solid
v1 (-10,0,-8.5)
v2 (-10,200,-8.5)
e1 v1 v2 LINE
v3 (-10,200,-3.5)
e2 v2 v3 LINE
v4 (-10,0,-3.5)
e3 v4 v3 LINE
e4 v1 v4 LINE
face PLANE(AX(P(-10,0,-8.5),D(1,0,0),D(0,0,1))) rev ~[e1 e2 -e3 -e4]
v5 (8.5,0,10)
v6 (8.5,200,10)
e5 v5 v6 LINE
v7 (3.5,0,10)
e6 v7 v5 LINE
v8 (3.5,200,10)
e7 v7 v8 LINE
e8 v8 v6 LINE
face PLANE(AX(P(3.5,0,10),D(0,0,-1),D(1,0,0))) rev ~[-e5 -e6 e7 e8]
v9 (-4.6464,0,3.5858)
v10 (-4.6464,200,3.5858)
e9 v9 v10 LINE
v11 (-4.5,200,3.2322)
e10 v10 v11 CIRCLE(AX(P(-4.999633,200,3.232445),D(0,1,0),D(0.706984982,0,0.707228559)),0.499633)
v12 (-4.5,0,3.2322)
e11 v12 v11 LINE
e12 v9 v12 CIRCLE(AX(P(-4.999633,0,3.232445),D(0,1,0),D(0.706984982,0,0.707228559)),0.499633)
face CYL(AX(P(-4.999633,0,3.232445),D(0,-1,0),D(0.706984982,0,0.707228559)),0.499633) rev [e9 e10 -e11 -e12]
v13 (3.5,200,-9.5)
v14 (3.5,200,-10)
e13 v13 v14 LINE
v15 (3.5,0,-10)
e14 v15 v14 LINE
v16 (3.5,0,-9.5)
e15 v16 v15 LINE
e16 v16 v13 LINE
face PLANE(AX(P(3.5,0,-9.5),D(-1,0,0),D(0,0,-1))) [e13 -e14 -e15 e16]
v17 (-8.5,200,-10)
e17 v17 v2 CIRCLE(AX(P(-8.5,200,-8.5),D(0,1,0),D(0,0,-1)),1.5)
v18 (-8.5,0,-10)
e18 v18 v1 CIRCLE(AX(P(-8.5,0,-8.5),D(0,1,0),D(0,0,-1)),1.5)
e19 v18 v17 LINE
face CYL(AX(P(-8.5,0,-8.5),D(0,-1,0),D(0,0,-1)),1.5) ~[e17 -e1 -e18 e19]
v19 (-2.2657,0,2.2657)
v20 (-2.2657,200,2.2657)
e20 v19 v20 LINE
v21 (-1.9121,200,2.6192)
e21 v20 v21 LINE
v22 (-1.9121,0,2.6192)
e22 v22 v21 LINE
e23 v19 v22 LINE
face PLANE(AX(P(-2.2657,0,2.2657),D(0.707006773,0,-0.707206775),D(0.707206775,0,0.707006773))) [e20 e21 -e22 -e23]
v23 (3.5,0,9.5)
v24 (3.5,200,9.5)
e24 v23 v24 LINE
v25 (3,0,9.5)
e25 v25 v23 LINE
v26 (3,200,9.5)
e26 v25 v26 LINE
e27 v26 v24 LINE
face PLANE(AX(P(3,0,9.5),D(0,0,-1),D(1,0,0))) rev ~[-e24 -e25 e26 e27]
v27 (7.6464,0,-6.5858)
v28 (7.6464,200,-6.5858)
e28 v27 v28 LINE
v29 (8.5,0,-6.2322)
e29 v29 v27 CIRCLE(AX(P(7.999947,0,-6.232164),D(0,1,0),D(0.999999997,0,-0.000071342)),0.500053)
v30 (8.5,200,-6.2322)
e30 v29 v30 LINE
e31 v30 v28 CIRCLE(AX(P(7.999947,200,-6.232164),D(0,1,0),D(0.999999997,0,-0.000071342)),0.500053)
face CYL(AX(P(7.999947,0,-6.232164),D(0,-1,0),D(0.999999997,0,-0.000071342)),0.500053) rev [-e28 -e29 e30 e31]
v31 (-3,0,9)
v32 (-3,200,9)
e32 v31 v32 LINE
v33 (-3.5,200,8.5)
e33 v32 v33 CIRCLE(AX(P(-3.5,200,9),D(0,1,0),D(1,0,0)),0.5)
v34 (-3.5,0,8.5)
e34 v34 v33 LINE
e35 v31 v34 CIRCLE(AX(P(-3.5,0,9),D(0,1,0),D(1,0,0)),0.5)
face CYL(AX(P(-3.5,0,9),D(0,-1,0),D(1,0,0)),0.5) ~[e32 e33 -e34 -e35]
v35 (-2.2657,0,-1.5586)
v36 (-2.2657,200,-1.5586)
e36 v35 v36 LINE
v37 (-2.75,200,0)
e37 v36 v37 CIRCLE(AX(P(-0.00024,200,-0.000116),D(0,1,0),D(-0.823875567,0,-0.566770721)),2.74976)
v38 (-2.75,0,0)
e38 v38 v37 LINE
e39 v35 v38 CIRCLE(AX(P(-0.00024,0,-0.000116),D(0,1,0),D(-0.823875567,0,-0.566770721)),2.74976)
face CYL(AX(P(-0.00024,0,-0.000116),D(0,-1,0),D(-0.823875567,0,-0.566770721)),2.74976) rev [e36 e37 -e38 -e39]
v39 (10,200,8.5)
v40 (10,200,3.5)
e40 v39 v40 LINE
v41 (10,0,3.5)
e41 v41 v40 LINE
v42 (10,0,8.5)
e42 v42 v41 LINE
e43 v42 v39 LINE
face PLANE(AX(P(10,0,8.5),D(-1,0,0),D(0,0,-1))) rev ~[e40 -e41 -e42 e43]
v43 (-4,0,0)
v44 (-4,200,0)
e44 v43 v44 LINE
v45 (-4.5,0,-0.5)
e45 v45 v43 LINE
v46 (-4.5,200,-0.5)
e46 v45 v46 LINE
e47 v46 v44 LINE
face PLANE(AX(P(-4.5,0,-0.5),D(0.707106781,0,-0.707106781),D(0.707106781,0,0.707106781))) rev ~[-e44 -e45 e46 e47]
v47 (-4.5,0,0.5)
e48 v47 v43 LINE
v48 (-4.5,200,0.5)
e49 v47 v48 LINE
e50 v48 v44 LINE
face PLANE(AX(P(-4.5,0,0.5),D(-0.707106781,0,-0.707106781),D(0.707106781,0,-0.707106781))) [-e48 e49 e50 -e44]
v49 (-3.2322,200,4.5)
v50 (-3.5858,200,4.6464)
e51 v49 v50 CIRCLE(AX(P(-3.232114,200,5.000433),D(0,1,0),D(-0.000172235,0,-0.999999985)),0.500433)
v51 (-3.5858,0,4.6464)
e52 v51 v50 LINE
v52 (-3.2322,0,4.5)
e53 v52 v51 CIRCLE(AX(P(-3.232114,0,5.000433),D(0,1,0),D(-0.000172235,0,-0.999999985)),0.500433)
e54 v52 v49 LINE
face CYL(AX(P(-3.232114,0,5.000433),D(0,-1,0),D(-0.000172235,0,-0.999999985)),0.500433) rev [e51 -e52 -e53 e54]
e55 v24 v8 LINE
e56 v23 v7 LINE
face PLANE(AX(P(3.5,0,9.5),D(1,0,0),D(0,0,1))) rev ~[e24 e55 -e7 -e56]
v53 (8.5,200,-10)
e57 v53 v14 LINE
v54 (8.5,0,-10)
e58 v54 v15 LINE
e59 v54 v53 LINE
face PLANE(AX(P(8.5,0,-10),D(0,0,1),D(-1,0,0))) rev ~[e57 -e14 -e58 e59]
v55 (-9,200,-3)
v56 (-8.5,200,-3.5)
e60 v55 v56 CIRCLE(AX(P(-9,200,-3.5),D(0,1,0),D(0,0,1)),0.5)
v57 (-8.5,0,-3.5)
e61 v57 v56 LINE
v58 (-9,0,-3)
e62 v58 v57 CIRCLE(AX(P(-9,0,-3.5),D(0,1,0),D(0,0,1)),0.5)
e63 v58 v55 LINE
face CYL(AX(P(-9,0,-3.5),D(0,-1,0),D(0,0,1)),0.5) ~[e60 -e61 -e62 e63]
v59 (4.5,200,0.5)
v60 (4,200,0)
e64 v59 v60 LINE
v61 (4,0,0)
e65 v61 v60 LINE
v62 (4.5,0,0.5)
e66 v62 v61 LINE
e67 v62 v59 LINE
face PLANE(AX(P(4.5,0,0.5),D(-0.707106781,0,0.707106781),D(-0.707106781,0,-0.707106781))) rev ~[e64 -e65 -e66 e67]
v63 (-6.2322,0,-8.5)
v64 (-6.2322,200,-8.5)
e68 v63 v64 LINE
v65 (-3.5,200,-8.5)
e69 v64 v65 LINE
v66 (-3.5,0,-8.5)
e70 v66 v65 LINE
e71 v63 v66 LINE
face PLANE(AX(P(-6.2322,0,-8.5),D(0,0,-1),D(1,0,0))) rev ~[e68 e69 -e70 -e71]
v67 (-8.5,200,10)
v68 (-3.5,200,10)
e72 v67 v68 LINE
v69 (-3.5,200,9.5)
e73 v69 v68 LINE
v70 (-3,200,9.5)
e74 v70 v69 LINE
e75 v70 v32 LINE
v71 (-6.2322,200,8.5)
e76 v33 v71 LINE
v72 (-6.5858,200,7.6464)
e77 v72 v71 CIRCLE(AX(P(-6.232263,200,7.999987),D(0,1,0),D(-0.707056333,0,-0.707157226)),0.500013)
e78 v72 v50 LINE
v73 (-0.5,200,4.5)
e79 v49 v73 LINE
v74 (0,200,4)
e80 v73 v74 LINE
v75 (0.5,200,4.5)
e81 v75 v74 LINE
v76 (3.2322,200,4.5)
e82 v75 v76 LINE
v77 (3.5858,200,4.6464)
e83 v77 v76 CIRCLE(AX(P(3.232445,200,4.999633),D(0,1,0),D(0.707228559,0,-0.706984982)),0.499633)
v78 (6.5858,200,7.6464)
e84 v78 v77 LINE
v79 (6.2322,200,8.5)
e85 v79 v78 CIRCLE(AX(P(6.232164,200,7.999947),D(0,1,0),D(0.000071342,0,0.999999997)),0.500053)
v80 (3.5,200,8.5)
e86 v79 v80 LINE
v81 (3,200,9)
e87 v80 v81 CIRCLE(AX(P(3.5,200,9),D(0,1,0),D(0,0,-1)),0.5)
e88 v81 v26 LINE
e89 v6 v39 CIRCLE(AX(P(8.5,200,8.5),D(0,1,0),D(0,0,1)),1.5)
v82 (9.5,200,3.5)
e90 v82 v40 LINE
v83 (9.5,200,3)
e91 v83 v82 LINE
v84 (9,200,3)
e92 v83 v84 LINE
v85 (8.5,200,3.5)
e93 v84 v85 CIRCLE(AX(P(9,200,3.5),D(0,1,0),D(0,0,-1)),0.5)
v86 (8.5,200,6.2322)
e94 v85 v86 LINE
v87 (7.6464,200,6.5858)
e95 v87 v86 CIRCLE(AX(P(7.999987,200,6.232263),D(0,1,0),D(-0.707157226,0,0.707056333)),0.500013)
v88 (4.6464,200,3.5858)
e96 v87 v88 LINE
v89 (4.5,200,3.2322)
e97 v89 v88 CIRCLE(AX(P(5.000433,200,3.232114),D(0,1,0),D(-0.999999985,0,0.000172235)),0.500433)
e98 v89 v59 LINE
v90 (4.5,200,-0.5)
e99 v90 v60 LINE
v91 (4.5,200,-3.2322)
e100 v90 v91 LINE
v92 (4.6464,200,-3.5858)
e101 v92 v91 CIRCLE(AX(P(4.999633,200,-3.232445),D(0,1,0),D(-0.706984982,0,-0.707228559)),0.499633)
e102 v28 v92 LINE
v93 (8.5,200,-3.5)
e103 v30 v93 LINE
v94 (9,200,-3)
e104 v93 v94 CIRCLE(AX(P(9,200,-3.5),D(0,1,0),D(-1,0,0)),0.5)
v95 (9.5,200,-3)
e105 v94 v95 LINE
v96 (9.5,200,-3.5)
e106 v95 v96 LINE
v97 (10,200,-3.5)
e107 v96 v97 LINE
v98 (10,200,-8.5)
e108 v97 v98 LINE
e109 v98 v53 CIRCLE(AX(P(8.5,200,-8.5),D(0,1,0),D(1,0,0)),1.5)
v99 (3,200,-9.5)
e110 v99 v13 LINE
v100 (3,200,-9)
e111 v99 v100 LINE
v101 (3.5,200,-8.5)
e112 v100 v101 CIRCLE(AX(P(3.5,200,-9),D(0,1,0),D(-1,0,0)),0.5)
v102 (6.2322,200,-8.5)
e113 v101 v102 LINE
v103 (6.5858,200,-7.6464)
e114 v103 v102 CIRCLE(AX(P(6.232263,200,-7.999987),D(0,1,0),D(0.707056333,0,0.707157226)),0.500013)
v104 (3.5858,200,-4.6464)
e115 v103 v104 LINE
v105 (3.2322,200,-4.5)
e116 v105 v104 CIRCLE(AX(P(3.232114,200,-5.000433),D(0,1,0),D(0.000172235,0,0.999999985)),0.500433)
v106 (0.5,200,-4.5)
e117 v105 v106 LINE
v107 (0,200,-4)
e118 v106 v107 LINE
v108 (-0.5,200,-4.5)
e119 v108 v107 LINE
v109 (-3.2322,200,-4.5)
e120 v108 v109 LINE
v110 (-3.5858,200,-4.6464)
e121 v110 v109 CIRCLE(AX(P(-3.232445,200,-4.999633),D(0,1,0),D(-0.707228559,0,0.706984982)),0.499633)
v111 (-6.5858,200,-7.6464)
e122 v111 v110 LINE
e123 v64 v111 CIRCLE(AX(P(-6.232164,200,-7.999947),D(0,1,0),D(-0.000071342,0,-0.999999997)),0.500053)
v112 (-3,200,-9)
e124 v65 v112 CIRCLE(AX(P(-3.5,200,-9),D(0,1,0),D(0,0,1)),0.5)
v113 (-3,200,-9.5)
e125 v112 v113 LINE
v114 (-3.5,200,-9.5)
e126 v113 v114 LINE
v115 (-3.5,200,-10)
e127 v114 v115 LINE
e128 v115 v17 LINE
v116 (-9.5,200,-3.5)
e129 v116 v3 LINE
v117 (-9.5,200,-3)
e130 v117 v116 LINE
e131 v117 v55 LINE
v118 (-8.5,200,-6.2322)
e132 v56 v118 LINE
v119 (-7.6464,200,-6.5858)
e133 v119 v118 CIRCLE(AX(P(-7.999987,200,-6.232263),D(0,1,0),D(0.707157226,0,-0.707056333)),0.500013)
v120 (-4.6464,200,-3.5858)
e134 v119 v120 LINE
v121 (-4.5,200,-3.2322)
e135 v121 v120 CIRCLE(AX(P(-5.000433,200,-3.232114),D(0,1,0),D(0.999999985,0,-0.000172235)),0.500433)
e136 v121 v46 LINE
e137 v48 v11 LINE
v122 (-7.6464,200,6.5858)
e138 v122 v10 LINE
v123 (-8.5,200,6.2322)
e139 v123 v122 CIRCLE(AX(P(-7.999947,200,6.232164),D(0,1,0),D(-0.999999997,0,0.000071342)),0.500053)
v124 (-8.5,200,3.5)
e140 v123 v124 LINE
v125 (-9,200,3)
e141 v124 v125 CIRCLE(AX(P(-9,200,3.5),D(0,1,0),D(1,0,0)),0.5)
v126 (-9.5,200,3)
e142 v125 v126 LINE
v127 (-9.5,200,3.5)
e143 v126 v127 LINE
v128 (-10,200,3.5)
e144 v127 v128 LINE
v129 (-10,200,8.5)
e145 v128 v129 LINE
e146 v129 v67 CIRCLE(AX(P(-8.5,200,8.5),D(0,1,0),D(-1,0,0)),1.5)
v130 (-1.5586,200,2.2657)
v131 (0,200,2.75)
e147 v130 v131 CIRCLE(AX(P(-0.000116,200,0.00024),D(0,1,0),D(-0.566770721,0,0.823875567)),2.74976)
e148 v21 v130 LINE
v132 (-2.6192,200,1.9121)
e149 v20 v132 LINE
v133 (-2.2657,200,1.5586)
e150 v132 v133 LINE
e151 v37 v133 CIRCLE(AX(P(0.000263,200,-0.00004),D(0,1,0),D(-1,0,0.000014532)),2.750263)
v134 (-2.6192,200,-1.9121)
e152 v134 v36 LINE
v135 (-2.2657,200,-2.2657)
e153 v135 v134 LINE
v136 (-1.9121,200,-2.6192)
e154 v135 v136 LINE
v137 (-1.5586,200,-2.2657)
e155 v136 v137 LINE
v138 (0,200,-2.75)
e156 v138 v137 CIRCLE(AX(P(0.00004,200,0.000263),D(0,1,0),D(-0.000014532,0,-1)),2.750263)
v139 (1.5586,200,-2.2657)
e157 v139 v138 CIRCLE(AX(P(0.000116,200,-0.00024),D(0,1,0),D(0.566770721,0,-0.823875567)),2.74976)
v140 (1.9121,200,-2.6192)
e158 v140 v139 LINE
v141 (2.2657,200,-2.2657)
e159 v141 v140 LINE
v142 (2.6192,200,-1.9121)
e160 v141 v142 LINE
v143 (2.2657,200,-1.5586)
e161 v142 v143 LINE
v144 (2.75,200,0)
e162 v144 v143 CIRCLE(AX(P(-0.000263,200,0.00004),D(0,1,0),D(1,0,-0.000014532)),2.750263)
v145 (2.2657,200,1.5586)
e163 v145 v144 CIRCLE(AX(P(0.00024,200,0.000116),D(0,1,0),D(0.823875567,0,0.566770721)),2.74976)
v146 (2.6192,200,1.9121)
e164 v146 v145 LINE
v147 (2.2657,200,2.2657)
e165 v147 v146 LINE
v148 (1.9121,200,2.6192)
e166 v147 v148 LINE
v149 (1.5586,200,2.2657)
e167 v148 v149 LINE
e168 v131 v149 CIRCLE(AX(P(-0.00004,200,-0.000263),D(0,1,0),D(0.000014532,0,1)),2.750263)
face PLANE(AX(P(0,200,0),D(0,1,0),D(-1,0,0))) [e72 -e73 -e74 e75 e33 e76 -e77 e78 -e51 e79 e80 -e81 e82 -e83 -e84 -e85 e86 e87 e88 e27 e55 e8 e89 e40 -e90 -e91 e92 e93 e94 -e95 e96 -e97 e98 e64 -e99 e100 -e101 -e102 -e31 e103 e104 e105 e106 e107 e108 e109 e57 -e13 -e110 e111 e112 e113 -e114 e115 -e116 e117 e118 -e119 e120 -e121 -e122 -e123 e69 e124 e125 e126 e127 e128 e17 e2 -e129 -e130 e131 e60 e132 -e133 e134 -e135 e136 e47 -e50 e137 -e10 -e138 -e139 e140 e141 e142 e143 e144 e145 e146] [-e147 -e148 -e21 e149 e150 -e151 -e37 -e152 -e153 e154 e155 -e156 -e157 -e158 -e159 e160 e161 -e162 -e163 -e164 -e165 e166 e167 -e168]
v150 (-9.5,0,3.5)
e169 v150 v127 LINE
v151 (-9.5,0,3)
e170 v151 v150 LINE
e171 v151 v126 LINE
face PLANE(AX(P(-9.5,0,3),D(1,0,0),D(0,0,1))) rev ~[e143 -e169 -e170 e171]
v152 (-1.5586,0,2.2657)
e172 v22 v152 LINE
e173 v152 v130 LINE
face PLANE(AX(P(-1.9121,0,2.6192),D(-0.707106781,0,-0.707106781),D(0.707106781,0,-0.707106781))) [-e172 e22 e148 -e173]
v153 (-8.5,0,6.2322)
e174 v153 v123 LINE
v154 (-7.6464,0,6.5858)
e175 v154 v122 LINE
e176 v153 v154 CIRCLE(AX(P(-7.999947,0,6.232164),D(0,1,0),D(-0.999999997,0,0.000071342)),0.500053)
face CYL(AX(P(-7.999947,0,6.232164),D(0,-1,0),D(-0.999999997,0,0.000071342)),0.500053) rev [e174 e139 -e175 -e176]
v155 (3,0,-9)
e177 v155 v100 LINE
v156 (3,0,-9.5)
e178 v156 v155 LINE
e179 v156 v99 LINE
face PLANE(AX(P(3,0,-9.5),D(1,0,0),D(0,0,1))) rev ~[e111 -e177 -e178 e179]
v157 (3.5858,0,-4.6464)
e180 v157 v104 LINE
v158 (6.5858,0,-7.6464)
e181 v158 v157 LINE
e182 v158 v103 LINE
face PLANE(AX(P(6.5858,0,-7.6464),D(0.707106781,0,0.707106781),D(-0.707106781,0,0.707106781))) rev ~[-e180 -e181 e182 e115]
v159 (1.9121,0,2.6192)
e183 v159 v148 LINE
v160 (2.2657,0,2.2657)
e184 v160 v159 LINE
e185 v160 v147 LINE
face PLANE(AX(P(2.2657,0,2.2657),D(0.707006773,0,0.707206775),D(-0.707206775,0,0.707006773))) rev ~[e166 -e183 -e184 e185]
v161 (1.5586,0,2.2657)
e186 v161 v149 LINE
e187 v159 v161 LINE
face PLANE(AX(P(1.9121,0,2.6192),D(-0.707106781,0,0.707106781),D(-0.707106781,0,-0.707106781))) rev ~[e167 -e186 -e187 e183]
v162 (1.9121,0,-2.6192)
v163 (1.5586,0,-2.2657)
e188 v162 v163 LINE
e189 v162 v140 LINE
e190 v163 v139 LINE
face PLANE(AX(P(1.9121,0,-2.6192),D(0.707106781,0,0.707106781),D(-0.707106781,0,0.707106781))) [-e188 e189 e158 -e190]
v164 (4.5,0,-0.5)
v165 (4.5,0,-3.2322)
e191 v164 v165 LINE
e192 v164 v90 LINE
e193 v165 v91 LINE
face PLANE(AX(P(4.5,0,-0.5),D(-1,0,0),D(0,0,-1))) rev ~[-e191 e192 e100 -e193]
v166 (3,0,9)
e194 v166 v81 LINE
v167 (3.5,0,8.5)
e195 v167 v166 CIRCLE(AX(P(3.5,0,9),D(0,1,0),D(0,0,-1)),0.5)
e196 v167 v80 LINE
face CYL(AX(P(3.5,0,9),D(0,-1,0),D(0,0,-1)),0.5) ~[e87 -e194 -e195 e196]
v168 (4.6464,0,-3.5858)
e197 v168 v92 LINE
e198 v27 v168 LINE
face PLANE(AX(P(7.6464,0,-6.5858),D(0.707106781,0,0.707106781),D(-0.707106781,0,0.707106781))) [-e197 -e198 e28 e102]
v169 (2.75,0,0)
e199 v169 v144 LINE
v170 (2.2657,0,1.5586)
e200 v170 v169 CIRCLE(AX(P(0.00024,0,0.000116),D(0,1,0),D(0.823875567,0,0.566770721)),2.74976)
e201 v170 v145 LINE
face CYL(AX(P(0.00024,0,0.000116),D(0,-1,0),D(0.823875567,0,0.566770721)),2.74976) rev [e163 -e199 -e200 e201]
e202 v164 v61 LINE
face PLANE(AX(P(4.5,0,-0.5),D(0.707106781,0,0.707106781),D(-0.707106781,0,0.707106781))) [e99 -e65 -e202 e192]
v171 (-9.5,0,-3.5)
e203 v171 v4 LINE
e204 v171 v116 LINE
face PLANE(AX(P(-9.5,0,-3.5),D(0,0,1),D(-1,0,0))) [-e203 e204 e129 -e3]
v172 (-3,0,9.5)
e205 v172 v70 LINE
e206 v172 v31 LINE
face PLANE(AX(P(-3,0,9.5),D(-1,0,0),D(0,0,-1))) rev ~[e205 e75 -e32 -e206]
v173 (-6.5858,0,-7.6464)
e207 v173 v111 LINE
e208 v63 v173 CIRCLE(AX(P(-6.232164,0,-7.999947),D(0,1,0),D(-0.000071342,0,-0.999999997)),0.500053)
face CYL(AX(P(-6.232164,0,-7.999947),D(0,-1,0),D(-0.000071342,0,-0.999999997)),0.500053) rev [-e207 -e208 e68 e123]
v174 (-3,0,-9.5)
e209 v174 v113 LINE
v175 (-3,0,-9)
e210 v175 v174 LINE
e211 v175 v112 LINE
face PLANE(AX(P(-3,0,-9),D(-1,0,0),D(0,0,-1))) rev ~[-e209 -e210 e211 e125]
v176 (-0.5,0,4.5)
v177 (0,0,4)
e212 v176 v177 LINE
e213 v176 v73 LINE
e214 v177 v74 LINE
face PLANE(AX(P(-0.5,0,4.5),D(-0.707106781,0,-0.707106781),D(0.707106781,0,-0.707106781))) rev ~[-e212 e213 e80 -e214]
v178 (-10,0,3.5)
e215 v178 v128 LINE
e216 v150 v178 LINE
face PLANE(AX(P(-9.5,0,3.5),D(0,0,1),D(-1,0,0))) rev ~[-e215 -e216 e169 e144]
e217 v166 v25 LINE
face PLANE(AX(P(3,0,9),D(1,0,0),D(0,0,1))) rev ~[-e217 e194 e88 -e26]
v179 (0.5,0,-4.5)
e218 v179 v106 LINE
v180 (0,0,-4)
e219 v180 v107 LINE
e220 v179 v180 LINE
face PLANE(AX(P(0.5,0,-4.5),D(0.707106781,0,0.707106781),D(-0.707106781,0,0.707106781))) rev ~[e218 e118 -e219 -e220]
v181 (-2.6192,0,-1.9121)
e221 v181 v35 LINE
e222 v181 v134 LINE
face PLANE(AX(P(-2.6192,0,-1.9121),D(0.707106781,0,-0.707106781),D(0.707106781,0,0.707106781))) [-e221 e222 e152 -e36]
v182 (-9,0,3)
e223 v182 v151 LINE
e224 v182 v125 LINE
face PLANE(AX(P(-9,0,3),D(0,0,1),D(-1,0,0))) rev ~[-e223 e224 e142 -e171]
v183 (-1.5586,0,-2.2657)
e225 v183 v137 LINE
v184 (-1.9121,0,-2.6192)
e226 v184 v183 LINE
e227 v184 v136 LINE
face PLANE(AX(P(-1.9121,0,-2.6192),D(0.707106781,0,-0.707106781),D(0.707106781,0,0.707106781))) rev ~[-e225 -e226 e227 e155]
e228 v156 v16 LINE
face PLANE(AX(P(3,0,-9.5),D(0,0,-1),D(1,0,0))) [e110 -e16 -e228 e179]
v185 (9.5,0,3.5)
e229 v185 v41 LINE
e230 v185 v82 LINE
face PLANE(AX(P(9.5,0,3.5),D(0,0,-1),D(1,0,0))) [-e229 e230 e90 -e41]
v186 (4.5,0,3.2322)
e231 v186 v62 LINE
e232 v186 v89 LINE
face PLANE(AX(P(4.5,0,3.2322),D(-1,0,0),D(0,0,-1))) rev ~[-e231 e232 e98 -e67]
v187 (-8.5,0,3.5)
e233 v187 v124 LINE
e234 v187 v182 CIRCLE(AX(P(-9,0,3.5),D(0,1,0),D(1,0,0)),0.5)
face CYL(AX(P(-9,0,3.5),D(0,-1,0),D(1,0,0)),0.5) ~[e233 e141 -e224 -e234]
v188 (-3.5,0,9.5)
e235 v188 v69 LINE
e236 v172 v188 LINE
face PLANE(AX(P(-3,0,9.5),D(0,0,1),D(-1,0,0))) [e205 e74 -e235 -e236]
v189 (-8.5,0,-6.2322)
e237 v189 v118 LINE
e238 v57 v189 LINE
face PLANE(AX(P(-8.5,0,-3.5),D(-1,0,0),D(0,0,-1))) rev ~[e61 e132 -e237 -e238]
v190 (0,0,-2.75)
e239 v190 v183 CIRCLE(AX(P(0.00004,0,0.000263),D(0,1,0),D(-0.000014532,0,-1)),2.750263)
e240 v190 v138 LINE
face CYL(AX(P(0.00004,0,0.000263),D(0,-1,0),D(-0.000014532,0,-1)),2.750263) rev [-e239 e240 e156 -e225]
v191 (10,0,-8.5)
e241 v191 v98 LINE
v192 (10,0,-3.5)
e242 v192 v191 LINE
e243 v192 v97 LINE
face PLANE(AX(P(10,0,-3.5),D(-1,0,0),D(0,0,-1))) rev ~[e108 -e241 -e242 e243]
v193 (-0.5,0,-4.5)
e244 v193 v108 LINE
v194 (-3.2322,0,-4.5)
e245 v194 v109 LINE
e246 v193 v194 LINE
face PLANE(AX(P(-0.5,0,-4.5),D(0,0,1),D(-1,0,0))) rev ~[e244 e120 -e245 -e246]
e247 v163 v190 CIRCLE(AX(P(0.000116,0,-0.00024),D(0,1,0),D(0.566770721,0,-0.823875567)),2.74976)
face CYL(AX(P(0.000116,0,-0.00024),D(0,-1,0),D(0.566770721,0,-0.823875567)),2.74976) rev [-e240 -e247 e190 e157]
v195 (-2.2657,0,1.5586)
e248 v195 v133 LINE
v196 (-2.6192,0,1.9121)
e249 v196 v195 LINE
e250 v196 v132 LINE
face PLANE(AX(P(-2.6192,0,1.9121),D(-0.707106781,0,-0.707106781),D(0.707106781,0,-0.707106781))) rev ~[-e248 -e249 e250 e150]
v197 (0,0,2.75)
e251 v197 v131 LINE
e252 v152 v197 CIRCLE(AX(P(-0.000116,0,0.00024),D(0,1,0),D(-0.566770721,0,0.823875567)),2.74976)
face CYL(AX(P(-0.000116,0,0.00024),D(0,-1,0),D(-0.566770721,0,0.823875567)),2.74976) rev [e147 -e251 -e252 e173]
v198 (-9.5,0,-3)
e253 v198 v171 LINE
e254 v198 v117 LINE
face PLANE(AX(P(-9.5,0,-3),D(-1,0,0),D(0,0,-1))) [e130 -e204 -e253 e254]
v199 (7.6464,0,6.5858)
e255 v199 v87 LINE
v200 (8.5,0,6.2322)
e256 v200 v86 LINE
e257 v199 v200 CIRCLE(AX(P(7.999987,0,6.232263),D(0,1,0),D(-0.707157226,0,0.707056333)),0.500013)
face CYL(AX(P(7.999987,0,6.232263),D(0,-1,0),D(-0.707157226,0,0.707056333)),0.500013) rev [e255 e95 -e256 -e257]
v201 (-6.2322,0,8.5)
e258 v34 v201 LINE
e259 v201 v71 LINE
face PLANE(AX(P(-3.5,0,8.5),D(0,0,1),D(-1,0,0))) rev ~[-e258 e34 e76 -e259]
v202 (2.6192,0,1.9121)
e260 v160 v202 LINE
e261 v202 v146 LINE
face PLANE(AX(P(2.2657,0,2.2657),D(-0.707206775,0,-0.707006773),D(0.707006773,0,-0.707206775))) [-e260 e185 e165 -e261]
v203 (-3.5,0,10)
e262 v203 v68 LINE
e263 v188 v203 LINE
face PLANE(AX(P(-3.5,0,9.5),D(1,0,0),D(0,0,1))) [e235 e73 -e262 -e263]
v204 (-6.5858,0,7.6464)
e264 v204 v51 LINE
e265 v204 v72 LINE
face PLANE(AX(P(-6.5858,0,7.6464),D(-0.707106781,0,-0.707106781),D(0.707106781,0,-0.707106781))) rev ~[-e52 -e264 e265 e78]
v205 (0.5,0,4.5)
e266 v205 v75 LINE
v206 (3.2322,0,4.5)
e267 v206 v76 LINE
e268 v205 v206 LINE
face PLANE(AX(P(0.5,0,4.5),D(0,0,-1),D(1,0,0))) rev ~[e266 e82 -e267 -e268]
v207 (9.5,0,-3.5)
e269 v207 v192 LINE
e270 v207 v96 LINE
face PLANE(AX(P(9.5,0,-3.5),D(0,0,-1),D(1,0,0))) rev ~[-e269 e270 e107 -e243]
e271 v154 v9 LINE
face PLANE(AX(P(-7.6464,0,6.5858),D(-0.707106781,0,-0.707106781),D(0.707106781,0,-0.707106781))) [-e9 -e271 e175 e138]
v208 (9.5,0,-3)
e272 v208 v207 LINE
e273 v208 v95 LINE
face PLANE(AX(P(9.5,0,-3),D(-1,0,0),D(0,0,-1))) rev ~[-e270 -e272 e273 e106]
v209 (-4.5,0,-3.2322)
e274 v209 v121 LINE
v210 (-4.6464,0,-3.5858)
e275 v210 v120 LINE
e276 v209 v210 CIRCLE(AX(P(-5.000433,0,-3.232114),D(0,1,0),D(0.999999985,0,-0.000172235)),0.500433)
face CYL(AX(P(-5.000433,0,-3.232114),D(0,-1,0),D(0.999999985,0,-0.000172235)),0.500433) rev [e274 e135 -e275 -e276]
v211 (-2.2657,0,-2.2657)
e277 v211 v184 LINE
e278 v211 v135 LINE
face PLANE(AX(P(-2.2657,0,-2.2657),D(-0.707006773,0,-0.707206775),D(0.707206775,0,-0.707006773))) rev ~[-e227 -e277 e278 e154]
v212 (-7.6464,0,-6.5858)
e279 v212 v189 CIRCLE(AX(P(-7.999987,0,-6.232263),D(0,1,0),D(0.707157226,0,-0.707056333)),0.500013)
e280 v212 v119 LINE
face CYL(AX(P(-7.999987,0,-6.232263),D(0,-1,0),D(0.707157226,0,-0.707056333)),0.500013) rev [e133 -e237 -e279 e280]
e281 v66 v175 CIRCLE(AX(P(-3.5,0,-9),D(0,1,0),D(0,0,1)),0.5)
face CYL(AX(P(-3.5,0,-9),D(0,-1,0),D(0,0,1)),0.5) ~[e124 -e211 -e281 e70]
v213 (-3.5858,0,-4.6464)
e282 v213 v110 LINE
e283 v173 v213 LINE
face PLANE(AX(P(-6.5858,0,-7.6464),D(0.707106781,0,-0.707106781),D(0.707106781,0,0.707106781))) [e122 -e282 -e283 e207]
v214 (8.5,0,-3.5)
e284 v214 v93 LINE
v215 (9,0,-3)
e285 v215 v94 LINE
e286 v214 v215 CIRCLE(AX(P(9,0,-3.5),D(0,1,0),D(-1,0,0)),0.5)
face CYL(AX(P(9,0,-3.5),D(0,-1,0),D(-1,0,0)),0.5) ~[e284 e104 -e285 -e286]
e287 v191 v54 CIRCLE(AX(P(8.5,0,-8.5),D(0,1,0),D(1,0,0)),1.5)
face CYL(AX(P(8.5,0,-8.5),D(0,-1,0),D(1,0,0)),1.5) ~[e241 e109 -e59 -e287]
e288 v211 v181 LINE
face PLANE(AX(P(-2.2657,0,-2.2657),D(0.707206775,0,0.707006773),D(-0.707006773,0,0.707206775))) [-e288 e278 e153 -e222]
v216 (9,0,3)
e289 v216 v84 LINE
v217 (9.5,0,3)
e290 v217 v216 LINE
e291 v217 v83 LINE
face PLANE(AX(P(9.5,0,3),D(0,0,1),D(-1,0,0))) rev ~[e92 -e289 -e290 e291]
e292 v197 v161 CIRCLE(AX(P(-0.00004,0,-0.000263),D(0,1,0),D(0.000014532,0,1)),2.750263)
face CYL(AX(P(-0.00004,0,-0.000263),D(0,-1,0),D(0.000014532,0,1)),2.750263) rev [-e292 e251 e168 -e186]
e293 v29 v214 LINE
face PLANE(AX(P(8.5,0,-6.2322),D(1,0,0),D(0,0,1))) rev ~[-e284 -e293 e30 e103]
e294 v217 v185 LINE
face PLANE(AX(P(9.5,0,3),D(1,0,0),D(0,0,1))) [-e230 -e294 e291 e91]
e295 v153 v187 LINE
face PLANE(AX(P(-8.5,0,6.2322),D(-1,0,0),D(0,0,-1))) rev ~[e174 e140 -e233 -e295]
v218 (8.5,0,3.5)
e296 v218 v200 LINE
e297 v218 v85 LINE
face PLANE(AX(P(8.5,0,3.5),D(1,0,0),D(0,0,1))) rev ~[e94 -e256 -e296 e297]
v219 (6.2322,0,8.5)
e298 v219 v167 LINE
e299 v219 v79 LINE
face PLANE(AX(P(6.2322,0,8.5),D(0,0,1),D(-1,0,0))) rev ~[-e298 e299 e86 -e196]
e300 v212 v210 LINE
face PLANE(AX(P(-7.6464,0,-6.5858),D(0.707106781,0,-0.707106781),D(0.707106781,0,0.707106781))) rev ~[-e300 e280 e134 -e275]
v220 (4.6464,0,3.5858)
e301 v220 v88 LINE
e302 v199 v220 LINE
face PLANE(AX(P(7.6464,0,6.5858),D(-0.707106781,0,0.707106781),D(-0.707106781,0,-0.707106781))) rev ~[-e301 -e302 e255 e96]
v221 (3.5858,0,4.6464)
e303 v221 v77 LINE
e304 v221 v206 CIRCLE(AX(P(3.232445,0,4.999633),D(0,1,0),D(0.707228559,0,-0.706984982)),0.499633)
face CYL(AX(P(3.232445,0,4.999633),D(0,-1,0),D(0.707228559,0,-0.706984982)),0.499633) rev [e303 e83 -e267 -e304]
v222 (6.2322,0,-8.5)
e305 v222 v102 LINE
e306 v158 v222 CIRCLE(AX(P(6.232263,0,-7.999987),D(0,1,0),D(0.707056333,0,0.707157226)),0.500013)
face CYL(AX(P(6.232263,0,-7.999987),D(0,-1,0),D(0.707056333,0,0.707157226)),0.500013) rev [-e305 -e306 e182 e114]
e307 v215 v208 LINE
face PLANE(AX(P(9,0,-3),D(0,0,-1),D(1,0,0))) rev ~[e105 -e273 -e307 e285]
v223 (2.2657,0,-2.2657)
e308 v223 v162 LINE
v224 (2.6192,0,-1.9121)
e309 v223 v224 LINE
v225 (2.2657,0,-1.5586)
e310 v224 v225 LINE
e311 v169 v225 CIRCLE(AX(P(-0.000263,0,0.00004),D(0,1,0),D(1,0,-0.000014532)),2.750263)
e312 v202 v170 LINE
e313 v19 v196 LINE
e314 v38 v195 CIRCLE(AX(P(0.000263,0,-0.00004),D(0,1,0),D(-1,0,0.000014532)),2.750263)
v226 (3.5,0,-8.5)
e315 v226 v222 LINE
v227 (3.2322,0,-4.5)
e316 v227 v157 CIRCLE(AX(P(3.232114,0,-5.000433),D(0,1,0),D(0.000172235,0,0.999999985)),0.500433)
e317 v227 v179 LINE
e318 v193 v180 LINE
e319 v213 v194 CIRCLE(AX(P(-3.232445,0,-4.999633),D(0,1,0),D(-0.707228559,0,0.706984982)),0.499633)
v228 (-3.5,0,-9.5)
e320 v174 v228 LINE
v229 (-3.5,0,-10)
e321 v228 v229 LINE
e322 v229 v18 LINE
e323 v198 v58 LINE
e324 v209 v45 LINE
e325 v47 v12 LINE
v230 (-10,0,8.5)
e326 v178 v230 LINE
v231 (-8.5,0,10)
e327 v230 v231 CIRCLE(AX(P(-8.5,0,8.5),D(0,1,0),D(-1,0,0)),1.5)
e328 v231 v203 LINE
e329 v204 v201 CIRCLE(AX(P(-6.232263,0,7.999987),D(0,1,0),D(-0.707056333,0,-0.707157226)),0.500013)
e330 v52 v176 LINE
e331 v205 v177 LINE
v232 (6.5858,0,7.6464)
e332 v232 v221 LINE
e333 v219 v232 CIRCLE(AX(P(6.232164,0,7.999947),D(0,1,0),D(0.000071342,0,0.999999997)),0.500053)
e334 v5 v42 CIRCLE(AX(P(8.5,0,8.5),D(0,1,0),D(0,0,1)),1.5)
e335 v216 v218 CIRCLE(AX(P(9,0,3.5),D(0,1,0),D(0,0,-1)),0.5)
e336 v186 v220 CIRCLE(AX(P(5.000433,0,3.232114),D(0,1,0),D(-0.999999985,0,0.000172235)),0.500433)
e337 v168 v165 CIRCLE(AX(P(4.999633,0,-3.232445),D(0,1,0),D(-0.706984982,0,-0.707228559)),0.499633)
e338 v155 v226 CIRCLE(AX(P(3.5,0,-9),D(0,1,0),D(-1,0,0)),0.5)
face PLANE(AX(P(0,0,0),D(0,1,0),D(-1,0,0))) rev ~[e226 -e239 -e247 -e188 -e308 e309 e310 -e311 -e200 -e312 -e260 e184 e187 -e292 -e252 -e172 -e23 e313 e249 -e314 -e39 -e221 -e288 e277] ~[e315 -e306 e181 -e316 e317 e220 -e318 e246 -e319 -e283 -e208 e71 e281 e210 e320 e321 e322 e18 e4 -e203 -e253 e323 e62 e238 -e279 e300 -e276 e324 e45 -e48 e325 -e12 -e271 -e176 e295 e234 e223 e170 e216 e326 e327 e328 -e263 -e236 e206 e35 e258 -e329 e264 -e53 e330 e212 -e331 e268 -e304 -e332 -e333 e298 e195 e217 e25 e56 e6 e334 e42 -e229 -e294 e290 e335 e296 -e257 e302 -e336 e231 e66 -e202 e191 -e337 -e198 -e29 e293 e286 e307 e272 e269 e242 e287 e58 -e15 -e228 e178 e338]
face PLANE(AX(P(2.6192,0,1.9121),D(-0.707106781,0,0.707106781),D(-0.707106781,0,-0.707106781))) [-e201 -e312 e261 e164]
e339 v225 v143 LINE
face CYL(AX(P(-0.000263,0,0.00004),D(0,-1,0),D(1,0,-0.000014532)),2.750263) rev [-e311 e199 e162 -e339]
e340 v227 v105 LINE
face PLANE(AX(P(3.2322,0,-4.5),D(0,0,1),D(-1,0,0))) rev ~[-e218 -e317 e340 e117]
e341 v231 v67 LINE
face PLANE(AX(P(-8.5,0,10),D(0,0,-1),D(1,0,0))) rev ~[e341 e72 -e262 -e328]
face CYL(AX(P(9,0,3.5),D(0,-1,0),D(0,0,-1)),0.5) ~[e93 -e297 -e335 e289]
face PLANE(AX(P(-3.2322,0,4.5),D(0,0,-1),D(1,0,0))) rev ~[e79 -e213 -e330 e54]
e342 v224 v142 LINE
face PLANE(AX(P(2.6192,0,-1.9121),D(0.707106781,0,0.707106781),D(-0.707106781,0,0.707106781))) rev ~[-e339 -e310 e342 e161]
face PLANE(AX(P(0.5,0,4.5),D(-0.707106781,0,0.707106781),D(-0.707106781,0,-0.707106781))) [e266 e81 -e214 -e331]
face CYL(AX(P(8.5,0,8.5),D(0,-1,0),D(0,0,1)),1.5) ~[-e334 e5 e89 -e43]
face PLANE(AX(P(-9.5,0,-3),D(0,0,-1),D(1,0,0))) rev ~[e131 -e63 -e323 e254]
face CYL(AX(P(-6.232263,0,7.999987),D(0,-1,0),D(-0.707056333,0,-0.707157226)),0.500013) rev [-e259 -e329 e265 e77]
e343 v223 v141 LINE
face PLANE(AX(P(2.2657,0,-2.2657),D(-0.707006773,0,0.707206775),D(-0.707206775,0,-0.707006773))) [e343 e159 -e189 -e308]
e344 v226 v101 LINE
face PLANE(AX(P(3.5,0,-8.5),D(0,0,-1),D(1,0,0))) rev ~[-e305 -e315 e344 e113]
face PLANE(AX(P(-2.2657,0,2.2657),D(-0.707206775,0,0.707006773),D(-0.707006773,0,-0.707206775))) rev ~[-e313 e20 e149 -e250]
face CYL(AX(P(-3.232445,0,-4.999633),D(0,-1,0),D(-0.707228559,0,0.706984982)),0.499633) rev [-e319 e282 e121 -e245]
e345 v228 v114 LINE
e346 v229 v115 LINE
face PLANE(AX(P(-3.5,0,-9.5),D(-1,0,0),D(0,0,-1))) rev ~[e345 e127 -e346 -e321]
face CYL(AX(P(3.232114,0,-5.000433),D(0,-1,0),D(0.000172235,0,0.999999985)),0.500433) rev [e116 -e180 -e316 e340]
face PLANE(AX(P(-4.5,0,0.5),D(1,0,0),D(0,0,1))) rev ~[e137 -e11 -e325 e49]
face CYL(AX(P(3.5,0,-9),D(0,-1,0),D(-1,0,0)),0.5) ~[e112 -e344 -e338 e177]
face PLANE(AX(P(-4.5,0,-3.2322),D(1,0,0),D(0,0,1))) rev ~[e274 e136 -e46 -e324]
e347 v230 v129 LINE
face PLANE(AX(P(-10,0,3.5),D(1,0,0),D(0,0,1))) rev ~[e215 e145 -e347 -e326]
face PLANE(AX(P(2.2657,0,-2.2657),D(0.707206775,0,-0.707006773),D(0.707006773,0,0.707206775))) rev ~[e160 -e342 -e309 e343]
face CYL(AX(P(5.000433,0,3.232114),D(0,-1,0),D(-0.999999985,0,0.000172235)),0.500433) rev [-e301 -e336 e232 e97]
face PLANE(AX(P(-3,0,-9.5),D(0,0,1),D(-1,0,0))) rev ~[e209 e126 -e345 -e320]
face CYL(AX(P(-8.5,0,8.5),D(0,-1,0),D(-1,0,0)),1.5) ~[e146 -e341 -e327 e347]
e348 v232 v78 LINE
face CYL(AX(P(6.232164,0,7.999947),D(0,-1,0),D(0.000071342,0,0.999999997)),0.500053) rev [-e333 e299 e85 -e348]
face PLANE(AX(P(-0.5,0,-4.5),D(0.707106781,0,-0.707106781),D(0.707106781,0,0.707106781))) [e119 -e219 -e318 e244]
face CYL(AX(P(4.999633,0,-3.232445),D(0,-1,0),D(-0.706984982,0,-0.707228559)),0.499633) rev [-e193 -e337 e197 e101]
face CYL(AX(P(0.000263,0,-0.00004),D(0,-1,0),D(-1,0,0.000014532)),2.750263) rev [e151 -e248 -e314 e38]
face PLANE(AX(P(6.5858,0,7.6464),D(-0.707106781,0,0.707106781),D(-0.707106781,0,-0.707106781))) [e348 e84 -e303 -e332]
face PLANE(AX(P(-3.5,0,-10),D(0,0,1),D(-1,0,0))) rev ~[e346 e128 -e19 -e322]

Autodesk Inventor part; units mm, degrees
ref_plane "YZ Plane" through (0, 0, 0) normal (1, 0, 0) x (0, 1, 0)
ref_plane "Start Plane" through (0, 0, 0) normal (0, 1, 0) x (-1, 0, 0)
ref_plane "End Plane" through (0, 200, 0) normal (0, 1, 0) x (-1, 0, 0)
sketch "Sketch" plane through (0, 0, 0) normal (0, 1, 0) x (-1, 0, 0)
  line L0 (8.5, 10) -> (3.5, 10)
  line L1 (4.5, 0.5) -> (4.5, 3.2322)
  line L2 (3.2322, 4.5) -> (0.5, 4.5)
  line L3 (3, 9.5) -> (3, 9)
  line L4 (3.5, 8.5) -> (6.2322, 8.5)
  line L5 (8.5, 6.2322) -> (8.5, 3.5)
  line L6 (9, 3) -> (9.5, 3)
  line L7 (6.5858, 7.6464) -> (3.5858, 4.6464)
  line L8 (7.6464, 6.5858) -> (4.6464, 3.5858)
  line L9 (10, 10) -> (0, 0) construction
  line L10 (0.5, 4.5) -> (0, 4)
  line L11 (3, 9.5) -> (3.5, 9.5)
  line L12 (3.5, 9.5) -> (3.5, 10)
  line L13 (9.5, 3) -> (9.5, 3.5)
  line L14 (9.5, 3.5) -> (10, 3.5)
  line L15 (10, 3.5) -> (10, 10)
  line L16 (0, 0) -> (10, 0) construction
  line L17 (10, 0) -> (10, 8.5) construction
  line L18 (0, 0) -> (0, 10) construction
  line L19 (0, 10) -> (10, 10) construction
  line L20 (4.5, 0.5) -> (4, 0)
  arc A0 (10, 8.5) -> (8.5, 10) centre (8.5, 8.5) ccw
  arc A1 (3, 9) -> (3.5, 8.5) centre (3.5, 9) ccw
  arc A2 (6.5858, 7.6464) -> (6.2322, 8.5) centre (6.2322, 8) ccw
  arc A3 (8.5, 6.2322) -> (7.6464, 6.5858) centre (8, 6.2322) ccw
  arc A4 (8.5, 3.5) -> (9, 3) centre (9, 3.5) ccw
  arc A5 (4.6464, 3.5858) -> (4.5, 3.2322) centre (5, 3.2322) ccw
  arc A6 (3.2322, 4.5) -> (3.5858, 4.6464) centre (3.2322, 5) ccw
  line L21 (2.2657, 2.2657) -> (1.9121, 2.6192)
  line L22 (2.2657, 2.2657) -> (2.6192, 1.9121)
  line L23 (1.9121, 2.6192) -> (1.5586, 2.2657)
  line L24 (2.6192, 1.9121) -> (2.2657, 1.5586)
  arc A7 (2.75, 0) -> (2.2657, 1.5586) centre (0, 0) ccw
  arc A8 (1.5586, 2.2657) -> (0, 2.75) centre (0, 0) ccw
  line L25 (0, 0) -> (10, 0) construction
  line L26 (10, -10) -> (0, 0) construction
  line L27 (0, 0) -> (0, -10) construction
  line L28 (0, -10) -> (8.5, -10) construction
  line L29 (0.5, -4.5) -> (3.2322, -4.5)
  line L30 (0.5, -4.5) -> (0, -4)
  line L31 (1.9121, -2.6192) -> (1.5586, -2.2657)
  arc A9 (0, -2.75) -> (1.5586, -2.2657) centre (0, 0) ccw
  arc A10 (7.6464, -6.5858) -> (8.5, -6.2322) centre (8, -6.2322) ccw
  line L32 (8.5, -3.5) -> (8.5, -6.2322)
  line L33 (10, -8.5) -> (10, -3.5)
  line L34 (3.5, -10) -> (10, -10)
  line L35 (6.5858, -7.6464) -> (3.5858, -4.6464)
  line L36 (7.6464, -6.5858) -> (4.6464, -3.5858)
  line L37 (10, 0) -> (10, -10) construction
  line L38 (4.5, -3.2322) -> (4.5, -0.5)
  arc A11 (8.5, -10) -> (10, -8.5) centre (8.5, -8.5) ccw
  line L39 (6.2322, -8.5) -> (3.5, -8.5)
  arc A12 (3.5, -8.5) -> (3, -9) centre (3.5, -9) ccw
  arc A13 (6.2322, -8.5) -> (6.5858, -7.6464) centre (6.2322, -8) ccw
  line L40 (3, -9.5) -> (3.5, -9.5)
  line L41 (3.5, -9.5) -> (3.5, -10)
  line L42 (9.5, -3) -> (9, -3)
  line L43 (4.5, -0.5) -> (4, 0)
  line L44 (9.5, -3) -> (9.5, -3.5)
  line L45 (9.5, -3.5) -> (10, -3.5)
  arc A14 (4.5, -3.2322) -> (4.6464, -3.5858) centre (5, -3.2322) ccw
  arc A15 (9, -3) -> (8.5, -3.5) centre (9, -3.5) ccw
  arc A16 (3.5858, -4.6464) -> (3.2322, -4.5) centre (3.2322, -5) ccw
  line L46 (3, -9) -> (3, -9.5)
  line L47 (2.2657, -2.2657) -> (2.6192, -1.9121)
  line L48 (2.2657, -2.2657) -> (1.9121, -2.6192)
  line L49 (2.6192, -1.9121) -> (2.2657, -1.5586)
  arc A17 (2.2657, -1.5586) -> (2.75, 0) centre (0, 0) ccw
  line L50 (0, 0) -> (0, -10) construction
  line L51 (-10, -10) -> (0, 0) construction
  line L52 (0, 0) -> (-10, 0) construction
  line L53 (-10, 0) -> (-10, -8.5) construction
  line L54 (-4.5, -0.5) -> (-4.5, -3.2322)
  line L55 (-4.5, -0.5) -> (-4, 0)
  line L56 (-2.6192, -1.9121) -> (-2.2657, -1.5586)
  arc A18 (-2.75, 0) -> (-2.2657, -1.5586) centre (0, 0) ccw
  arc A19 (-6.5858, -7.6464) -> (-6.2322, -8.5) centre (-6.2322, -8) ccw
  line L57 (-3.5, -8.5) -> (-6.2322, -8.5)
  line L58 (-8.5, -10) -> (-3.5, -10)
  line L59 (-10, -3.5) -> (-10, -10)
  line L60 (-7.6464, -6.5858) -> (-4.6464, -3.5858)
  line L61 (-6.5858, -7.6464) -> (-3.5858, -4.6464)
  line L62 (0, -10) -> (-10, -10) construction
  line L63 (-3.2322, -4.5) -> (-0.5, -4.5)
  arc A20 (-10, -8.5) -> (-8.5, -10) centre (-8.5, -8.5) ccw
  line L64 (-8.5, -6.2322) -> (-8.5, -3.5)
  arc A21 (-8.5, -3.5) -> (-9, -3) centre (-9, -3.5) ccw
  arc A22 (-8.5, -6.2322) -> (-7.6464, -6.5858) centre (-8, -6.2322) ccw
  line L65 (-9.5, -3) -> (-9.5, -3.5)
  line L66 (-9.5, -3.5) -> (-10, -3.5)
  line L67 (-3, -9.5) -> (-3, -9)
  line L68 (-0.5, -4.5) -> (0, -4)
  line L69 (-3, -9.5) -> (-3.5, -9.5)
  line L70 (-3.5, -9.5) -> (-3.5, -10)
  arc A23 (-3.2322, -4.5) -> (-3.5858, -4.6464) centre (-3.2322, -5) ccw
  arc A24 (-3, -9) -> (-3.5, -8.5) centre (-3.5, -9) ccw
  arc A25 (-4.6464, -3.5858) -> (-4.5, -3.2322) centre (-5, -3.2322) ccw
  line L71 (-9, -3) -> (-9.5, -3)
  line L72 (-2.2657, -2.2657) -> (-1.9121, -2.6192)
  line L73 (-2.2657, -2.2657) -> (-2.6192, -1.9121)
  line L74 (-1.9121, -2.6192) -> (-1.5586, -2.2657)
  arc A26 (-1.5586, -2.2657) -> (0, -2.75) centre (0, 0) ccw
  line L75 (0, 0) -> (-10, 0) construction
  line L76 (-10, 10) -> (0, 0) construction
  line L77 (0, 0) -> (0, 10) construction
  line L78 (0, 10) -> (-8.5, 10) construction
  line L79 (-0.5, 4.5) -> (-3.2322, 4.5)
  line L80 (-0.5, 4.5) -> (0, 4)
  line L81 (-1.9121, 2.6192) -> (-1.5586, 2.2657)
  arc A27 (0, 2.75) -> (-1.5586, 2.2657) centre (0, 0) ccw
  arc A28 (-7.6464, 6.5858) -> (-8.5, 6.2322) centre (-8, 6.2322) ccw
  line L82 (-8.5, 3.5) -> (-8.5, 6.2322)
  line L83 (-10, 8.5) -> (-10, 3.5)
  line L84 (-3.5, 10) -> (-10, 10)
  line L85 (-6.5858, 7.6464) -> (-3.5858, 4.6464)
  line L86 (-7.6464, 6.5858) -> (-4.6464, 3.5858)
  line L87 (-10, 0) -> (-10, 10) construction
  line L88 (-4.5, 3.2322) -> (-4.5, 0.5)
  arc A29 (-8.5, 10) -> (-10, 8.5) centre (-8.5, 8.5) ccw
  line L89 (-6.2322, 8.5) -> (-3.5, 8.5)
  arc A30 (-3.5, 8.5) -> (-3, 9) centre (-3.5, 9) ccw
  arc A31 (-6.2322, 8.5) -> (-6.5858, 7.6464) centre (-6.2322, 8) ccw
  line L90 (-3, 9.5) -> (-3.5, 9.5)
  line L91 (-3.5, 9.5) -> (-3.5, 10)
  line L92 (-9.5, 3) -> (-9, 3)
  line L93 (-4.5, 0.5) -> (-4, 0)
  line L94 (-9.5, 3) -> (-9.5, 3.5)
  line L95 (-9.5, 3.5) -> (-10, 3.5)
  arc A32 (-4.5, 3.2322) -> (-4.6464, 3.5858) centre (-5, 3.2322) ccw
  arc A33 (-9, 3) -> (-8.5, 3.5) centre (-9, 3.5) ccw
  arc A34 (-3.5858, 4.6464) -> (-3.2322, 4.5) centre (-3.2322, 5) ccw
  line L96 (-3, 9) -> (-3, 9.5)
  line L97 (-2.2657, 2.2657) -> (-2.6192, 1.9121)
  line L98 (-2.2657, 2.2657) -> (-1.9121, 2.6192)
  line L99 (-2.6192, 1.9121) -> (-2.2657, 1.5586)
  arc A35 (-2.2657, 1.5586) -> (-2.75, 0) centre (0, 0) ccw
  point P0 (0, 2.75)
  point P1 (-4, 0)
  point P2 (0, -4)
  dimension "d4" = 5.5
  dimension "d5" = 1.5
  dimension "d9" = 1.5
  dimension "d13" = 0.5
  dimension "d14" = 0.5
  dimension "d21" = 0.5
  dimension "d22" = 0.5
  dimension "d23" = 0.5
  dimension "d25" = 1.5
  dimension "d26" = 10
  dimension "d27" = 10
  dimension "d28" = 3
  dimension "d29" = 3
  dimension "d30" = 5.5
  dimension "d31" = 1.5
  dimension "d32" = 0.5
  dimension "d33" = 0.5
  dimension "d34" = 0.5
  dimension "d35" = 0.5
  dimension "d36" = 0.5
  dimension "d37" = 0.5
  dimension "d38" = 0.5
  dimension "d39" = 0.5
  dimension "d40" = 0.5
  dimension "d41" = 2.75
  dimension "d42" = 2.75
  dimension "d43" = 0.5
  dimension "d46" = 360
extrude "Body" add sketch "Sketch" along normal up to surface (200 mm away) from surface at 0
sketch "Sketch2" plane through (0, 0, 0) normal (0, 1, 0) x (-1, 0, 0)
  line L0 (0, 0) -> (10, 0)
ref_plane "Work Plane3" through (0, 0, 0) normal (0, 0, -1) x (-1, 0, 0)
sketch "Sketch3" plane through (0, 0, 0) normal (0, 0, -1) x (-1, 0, 0)
  line L0 (-2, 0) -> (12, 0)
  line L1 (-2, 200) -> (12, 200)
  dimension "d55" = 200
equation "\"d4\" = d30"
equation "\"d13\" = d21"
equation "\"d22\" = d21"
equation "\"d23\" = d21"
equation "\"d25\" = d5"
equation "\"d29\" = d28"
equation "\"d39\" = d38"
equation "\"d42\" = d41"
equation "\"d43\" = d40"
equation "\"d6\" = d5"
equation "\"Length\" = 200"
equation "\"G_OFFSET_START\" = 0"
equation "\"G_OFFSET_END\" = 0"
equation "\"G_L\" = d55"
properties part number "20x20_bosch profile" material "Aluminum 6061"
